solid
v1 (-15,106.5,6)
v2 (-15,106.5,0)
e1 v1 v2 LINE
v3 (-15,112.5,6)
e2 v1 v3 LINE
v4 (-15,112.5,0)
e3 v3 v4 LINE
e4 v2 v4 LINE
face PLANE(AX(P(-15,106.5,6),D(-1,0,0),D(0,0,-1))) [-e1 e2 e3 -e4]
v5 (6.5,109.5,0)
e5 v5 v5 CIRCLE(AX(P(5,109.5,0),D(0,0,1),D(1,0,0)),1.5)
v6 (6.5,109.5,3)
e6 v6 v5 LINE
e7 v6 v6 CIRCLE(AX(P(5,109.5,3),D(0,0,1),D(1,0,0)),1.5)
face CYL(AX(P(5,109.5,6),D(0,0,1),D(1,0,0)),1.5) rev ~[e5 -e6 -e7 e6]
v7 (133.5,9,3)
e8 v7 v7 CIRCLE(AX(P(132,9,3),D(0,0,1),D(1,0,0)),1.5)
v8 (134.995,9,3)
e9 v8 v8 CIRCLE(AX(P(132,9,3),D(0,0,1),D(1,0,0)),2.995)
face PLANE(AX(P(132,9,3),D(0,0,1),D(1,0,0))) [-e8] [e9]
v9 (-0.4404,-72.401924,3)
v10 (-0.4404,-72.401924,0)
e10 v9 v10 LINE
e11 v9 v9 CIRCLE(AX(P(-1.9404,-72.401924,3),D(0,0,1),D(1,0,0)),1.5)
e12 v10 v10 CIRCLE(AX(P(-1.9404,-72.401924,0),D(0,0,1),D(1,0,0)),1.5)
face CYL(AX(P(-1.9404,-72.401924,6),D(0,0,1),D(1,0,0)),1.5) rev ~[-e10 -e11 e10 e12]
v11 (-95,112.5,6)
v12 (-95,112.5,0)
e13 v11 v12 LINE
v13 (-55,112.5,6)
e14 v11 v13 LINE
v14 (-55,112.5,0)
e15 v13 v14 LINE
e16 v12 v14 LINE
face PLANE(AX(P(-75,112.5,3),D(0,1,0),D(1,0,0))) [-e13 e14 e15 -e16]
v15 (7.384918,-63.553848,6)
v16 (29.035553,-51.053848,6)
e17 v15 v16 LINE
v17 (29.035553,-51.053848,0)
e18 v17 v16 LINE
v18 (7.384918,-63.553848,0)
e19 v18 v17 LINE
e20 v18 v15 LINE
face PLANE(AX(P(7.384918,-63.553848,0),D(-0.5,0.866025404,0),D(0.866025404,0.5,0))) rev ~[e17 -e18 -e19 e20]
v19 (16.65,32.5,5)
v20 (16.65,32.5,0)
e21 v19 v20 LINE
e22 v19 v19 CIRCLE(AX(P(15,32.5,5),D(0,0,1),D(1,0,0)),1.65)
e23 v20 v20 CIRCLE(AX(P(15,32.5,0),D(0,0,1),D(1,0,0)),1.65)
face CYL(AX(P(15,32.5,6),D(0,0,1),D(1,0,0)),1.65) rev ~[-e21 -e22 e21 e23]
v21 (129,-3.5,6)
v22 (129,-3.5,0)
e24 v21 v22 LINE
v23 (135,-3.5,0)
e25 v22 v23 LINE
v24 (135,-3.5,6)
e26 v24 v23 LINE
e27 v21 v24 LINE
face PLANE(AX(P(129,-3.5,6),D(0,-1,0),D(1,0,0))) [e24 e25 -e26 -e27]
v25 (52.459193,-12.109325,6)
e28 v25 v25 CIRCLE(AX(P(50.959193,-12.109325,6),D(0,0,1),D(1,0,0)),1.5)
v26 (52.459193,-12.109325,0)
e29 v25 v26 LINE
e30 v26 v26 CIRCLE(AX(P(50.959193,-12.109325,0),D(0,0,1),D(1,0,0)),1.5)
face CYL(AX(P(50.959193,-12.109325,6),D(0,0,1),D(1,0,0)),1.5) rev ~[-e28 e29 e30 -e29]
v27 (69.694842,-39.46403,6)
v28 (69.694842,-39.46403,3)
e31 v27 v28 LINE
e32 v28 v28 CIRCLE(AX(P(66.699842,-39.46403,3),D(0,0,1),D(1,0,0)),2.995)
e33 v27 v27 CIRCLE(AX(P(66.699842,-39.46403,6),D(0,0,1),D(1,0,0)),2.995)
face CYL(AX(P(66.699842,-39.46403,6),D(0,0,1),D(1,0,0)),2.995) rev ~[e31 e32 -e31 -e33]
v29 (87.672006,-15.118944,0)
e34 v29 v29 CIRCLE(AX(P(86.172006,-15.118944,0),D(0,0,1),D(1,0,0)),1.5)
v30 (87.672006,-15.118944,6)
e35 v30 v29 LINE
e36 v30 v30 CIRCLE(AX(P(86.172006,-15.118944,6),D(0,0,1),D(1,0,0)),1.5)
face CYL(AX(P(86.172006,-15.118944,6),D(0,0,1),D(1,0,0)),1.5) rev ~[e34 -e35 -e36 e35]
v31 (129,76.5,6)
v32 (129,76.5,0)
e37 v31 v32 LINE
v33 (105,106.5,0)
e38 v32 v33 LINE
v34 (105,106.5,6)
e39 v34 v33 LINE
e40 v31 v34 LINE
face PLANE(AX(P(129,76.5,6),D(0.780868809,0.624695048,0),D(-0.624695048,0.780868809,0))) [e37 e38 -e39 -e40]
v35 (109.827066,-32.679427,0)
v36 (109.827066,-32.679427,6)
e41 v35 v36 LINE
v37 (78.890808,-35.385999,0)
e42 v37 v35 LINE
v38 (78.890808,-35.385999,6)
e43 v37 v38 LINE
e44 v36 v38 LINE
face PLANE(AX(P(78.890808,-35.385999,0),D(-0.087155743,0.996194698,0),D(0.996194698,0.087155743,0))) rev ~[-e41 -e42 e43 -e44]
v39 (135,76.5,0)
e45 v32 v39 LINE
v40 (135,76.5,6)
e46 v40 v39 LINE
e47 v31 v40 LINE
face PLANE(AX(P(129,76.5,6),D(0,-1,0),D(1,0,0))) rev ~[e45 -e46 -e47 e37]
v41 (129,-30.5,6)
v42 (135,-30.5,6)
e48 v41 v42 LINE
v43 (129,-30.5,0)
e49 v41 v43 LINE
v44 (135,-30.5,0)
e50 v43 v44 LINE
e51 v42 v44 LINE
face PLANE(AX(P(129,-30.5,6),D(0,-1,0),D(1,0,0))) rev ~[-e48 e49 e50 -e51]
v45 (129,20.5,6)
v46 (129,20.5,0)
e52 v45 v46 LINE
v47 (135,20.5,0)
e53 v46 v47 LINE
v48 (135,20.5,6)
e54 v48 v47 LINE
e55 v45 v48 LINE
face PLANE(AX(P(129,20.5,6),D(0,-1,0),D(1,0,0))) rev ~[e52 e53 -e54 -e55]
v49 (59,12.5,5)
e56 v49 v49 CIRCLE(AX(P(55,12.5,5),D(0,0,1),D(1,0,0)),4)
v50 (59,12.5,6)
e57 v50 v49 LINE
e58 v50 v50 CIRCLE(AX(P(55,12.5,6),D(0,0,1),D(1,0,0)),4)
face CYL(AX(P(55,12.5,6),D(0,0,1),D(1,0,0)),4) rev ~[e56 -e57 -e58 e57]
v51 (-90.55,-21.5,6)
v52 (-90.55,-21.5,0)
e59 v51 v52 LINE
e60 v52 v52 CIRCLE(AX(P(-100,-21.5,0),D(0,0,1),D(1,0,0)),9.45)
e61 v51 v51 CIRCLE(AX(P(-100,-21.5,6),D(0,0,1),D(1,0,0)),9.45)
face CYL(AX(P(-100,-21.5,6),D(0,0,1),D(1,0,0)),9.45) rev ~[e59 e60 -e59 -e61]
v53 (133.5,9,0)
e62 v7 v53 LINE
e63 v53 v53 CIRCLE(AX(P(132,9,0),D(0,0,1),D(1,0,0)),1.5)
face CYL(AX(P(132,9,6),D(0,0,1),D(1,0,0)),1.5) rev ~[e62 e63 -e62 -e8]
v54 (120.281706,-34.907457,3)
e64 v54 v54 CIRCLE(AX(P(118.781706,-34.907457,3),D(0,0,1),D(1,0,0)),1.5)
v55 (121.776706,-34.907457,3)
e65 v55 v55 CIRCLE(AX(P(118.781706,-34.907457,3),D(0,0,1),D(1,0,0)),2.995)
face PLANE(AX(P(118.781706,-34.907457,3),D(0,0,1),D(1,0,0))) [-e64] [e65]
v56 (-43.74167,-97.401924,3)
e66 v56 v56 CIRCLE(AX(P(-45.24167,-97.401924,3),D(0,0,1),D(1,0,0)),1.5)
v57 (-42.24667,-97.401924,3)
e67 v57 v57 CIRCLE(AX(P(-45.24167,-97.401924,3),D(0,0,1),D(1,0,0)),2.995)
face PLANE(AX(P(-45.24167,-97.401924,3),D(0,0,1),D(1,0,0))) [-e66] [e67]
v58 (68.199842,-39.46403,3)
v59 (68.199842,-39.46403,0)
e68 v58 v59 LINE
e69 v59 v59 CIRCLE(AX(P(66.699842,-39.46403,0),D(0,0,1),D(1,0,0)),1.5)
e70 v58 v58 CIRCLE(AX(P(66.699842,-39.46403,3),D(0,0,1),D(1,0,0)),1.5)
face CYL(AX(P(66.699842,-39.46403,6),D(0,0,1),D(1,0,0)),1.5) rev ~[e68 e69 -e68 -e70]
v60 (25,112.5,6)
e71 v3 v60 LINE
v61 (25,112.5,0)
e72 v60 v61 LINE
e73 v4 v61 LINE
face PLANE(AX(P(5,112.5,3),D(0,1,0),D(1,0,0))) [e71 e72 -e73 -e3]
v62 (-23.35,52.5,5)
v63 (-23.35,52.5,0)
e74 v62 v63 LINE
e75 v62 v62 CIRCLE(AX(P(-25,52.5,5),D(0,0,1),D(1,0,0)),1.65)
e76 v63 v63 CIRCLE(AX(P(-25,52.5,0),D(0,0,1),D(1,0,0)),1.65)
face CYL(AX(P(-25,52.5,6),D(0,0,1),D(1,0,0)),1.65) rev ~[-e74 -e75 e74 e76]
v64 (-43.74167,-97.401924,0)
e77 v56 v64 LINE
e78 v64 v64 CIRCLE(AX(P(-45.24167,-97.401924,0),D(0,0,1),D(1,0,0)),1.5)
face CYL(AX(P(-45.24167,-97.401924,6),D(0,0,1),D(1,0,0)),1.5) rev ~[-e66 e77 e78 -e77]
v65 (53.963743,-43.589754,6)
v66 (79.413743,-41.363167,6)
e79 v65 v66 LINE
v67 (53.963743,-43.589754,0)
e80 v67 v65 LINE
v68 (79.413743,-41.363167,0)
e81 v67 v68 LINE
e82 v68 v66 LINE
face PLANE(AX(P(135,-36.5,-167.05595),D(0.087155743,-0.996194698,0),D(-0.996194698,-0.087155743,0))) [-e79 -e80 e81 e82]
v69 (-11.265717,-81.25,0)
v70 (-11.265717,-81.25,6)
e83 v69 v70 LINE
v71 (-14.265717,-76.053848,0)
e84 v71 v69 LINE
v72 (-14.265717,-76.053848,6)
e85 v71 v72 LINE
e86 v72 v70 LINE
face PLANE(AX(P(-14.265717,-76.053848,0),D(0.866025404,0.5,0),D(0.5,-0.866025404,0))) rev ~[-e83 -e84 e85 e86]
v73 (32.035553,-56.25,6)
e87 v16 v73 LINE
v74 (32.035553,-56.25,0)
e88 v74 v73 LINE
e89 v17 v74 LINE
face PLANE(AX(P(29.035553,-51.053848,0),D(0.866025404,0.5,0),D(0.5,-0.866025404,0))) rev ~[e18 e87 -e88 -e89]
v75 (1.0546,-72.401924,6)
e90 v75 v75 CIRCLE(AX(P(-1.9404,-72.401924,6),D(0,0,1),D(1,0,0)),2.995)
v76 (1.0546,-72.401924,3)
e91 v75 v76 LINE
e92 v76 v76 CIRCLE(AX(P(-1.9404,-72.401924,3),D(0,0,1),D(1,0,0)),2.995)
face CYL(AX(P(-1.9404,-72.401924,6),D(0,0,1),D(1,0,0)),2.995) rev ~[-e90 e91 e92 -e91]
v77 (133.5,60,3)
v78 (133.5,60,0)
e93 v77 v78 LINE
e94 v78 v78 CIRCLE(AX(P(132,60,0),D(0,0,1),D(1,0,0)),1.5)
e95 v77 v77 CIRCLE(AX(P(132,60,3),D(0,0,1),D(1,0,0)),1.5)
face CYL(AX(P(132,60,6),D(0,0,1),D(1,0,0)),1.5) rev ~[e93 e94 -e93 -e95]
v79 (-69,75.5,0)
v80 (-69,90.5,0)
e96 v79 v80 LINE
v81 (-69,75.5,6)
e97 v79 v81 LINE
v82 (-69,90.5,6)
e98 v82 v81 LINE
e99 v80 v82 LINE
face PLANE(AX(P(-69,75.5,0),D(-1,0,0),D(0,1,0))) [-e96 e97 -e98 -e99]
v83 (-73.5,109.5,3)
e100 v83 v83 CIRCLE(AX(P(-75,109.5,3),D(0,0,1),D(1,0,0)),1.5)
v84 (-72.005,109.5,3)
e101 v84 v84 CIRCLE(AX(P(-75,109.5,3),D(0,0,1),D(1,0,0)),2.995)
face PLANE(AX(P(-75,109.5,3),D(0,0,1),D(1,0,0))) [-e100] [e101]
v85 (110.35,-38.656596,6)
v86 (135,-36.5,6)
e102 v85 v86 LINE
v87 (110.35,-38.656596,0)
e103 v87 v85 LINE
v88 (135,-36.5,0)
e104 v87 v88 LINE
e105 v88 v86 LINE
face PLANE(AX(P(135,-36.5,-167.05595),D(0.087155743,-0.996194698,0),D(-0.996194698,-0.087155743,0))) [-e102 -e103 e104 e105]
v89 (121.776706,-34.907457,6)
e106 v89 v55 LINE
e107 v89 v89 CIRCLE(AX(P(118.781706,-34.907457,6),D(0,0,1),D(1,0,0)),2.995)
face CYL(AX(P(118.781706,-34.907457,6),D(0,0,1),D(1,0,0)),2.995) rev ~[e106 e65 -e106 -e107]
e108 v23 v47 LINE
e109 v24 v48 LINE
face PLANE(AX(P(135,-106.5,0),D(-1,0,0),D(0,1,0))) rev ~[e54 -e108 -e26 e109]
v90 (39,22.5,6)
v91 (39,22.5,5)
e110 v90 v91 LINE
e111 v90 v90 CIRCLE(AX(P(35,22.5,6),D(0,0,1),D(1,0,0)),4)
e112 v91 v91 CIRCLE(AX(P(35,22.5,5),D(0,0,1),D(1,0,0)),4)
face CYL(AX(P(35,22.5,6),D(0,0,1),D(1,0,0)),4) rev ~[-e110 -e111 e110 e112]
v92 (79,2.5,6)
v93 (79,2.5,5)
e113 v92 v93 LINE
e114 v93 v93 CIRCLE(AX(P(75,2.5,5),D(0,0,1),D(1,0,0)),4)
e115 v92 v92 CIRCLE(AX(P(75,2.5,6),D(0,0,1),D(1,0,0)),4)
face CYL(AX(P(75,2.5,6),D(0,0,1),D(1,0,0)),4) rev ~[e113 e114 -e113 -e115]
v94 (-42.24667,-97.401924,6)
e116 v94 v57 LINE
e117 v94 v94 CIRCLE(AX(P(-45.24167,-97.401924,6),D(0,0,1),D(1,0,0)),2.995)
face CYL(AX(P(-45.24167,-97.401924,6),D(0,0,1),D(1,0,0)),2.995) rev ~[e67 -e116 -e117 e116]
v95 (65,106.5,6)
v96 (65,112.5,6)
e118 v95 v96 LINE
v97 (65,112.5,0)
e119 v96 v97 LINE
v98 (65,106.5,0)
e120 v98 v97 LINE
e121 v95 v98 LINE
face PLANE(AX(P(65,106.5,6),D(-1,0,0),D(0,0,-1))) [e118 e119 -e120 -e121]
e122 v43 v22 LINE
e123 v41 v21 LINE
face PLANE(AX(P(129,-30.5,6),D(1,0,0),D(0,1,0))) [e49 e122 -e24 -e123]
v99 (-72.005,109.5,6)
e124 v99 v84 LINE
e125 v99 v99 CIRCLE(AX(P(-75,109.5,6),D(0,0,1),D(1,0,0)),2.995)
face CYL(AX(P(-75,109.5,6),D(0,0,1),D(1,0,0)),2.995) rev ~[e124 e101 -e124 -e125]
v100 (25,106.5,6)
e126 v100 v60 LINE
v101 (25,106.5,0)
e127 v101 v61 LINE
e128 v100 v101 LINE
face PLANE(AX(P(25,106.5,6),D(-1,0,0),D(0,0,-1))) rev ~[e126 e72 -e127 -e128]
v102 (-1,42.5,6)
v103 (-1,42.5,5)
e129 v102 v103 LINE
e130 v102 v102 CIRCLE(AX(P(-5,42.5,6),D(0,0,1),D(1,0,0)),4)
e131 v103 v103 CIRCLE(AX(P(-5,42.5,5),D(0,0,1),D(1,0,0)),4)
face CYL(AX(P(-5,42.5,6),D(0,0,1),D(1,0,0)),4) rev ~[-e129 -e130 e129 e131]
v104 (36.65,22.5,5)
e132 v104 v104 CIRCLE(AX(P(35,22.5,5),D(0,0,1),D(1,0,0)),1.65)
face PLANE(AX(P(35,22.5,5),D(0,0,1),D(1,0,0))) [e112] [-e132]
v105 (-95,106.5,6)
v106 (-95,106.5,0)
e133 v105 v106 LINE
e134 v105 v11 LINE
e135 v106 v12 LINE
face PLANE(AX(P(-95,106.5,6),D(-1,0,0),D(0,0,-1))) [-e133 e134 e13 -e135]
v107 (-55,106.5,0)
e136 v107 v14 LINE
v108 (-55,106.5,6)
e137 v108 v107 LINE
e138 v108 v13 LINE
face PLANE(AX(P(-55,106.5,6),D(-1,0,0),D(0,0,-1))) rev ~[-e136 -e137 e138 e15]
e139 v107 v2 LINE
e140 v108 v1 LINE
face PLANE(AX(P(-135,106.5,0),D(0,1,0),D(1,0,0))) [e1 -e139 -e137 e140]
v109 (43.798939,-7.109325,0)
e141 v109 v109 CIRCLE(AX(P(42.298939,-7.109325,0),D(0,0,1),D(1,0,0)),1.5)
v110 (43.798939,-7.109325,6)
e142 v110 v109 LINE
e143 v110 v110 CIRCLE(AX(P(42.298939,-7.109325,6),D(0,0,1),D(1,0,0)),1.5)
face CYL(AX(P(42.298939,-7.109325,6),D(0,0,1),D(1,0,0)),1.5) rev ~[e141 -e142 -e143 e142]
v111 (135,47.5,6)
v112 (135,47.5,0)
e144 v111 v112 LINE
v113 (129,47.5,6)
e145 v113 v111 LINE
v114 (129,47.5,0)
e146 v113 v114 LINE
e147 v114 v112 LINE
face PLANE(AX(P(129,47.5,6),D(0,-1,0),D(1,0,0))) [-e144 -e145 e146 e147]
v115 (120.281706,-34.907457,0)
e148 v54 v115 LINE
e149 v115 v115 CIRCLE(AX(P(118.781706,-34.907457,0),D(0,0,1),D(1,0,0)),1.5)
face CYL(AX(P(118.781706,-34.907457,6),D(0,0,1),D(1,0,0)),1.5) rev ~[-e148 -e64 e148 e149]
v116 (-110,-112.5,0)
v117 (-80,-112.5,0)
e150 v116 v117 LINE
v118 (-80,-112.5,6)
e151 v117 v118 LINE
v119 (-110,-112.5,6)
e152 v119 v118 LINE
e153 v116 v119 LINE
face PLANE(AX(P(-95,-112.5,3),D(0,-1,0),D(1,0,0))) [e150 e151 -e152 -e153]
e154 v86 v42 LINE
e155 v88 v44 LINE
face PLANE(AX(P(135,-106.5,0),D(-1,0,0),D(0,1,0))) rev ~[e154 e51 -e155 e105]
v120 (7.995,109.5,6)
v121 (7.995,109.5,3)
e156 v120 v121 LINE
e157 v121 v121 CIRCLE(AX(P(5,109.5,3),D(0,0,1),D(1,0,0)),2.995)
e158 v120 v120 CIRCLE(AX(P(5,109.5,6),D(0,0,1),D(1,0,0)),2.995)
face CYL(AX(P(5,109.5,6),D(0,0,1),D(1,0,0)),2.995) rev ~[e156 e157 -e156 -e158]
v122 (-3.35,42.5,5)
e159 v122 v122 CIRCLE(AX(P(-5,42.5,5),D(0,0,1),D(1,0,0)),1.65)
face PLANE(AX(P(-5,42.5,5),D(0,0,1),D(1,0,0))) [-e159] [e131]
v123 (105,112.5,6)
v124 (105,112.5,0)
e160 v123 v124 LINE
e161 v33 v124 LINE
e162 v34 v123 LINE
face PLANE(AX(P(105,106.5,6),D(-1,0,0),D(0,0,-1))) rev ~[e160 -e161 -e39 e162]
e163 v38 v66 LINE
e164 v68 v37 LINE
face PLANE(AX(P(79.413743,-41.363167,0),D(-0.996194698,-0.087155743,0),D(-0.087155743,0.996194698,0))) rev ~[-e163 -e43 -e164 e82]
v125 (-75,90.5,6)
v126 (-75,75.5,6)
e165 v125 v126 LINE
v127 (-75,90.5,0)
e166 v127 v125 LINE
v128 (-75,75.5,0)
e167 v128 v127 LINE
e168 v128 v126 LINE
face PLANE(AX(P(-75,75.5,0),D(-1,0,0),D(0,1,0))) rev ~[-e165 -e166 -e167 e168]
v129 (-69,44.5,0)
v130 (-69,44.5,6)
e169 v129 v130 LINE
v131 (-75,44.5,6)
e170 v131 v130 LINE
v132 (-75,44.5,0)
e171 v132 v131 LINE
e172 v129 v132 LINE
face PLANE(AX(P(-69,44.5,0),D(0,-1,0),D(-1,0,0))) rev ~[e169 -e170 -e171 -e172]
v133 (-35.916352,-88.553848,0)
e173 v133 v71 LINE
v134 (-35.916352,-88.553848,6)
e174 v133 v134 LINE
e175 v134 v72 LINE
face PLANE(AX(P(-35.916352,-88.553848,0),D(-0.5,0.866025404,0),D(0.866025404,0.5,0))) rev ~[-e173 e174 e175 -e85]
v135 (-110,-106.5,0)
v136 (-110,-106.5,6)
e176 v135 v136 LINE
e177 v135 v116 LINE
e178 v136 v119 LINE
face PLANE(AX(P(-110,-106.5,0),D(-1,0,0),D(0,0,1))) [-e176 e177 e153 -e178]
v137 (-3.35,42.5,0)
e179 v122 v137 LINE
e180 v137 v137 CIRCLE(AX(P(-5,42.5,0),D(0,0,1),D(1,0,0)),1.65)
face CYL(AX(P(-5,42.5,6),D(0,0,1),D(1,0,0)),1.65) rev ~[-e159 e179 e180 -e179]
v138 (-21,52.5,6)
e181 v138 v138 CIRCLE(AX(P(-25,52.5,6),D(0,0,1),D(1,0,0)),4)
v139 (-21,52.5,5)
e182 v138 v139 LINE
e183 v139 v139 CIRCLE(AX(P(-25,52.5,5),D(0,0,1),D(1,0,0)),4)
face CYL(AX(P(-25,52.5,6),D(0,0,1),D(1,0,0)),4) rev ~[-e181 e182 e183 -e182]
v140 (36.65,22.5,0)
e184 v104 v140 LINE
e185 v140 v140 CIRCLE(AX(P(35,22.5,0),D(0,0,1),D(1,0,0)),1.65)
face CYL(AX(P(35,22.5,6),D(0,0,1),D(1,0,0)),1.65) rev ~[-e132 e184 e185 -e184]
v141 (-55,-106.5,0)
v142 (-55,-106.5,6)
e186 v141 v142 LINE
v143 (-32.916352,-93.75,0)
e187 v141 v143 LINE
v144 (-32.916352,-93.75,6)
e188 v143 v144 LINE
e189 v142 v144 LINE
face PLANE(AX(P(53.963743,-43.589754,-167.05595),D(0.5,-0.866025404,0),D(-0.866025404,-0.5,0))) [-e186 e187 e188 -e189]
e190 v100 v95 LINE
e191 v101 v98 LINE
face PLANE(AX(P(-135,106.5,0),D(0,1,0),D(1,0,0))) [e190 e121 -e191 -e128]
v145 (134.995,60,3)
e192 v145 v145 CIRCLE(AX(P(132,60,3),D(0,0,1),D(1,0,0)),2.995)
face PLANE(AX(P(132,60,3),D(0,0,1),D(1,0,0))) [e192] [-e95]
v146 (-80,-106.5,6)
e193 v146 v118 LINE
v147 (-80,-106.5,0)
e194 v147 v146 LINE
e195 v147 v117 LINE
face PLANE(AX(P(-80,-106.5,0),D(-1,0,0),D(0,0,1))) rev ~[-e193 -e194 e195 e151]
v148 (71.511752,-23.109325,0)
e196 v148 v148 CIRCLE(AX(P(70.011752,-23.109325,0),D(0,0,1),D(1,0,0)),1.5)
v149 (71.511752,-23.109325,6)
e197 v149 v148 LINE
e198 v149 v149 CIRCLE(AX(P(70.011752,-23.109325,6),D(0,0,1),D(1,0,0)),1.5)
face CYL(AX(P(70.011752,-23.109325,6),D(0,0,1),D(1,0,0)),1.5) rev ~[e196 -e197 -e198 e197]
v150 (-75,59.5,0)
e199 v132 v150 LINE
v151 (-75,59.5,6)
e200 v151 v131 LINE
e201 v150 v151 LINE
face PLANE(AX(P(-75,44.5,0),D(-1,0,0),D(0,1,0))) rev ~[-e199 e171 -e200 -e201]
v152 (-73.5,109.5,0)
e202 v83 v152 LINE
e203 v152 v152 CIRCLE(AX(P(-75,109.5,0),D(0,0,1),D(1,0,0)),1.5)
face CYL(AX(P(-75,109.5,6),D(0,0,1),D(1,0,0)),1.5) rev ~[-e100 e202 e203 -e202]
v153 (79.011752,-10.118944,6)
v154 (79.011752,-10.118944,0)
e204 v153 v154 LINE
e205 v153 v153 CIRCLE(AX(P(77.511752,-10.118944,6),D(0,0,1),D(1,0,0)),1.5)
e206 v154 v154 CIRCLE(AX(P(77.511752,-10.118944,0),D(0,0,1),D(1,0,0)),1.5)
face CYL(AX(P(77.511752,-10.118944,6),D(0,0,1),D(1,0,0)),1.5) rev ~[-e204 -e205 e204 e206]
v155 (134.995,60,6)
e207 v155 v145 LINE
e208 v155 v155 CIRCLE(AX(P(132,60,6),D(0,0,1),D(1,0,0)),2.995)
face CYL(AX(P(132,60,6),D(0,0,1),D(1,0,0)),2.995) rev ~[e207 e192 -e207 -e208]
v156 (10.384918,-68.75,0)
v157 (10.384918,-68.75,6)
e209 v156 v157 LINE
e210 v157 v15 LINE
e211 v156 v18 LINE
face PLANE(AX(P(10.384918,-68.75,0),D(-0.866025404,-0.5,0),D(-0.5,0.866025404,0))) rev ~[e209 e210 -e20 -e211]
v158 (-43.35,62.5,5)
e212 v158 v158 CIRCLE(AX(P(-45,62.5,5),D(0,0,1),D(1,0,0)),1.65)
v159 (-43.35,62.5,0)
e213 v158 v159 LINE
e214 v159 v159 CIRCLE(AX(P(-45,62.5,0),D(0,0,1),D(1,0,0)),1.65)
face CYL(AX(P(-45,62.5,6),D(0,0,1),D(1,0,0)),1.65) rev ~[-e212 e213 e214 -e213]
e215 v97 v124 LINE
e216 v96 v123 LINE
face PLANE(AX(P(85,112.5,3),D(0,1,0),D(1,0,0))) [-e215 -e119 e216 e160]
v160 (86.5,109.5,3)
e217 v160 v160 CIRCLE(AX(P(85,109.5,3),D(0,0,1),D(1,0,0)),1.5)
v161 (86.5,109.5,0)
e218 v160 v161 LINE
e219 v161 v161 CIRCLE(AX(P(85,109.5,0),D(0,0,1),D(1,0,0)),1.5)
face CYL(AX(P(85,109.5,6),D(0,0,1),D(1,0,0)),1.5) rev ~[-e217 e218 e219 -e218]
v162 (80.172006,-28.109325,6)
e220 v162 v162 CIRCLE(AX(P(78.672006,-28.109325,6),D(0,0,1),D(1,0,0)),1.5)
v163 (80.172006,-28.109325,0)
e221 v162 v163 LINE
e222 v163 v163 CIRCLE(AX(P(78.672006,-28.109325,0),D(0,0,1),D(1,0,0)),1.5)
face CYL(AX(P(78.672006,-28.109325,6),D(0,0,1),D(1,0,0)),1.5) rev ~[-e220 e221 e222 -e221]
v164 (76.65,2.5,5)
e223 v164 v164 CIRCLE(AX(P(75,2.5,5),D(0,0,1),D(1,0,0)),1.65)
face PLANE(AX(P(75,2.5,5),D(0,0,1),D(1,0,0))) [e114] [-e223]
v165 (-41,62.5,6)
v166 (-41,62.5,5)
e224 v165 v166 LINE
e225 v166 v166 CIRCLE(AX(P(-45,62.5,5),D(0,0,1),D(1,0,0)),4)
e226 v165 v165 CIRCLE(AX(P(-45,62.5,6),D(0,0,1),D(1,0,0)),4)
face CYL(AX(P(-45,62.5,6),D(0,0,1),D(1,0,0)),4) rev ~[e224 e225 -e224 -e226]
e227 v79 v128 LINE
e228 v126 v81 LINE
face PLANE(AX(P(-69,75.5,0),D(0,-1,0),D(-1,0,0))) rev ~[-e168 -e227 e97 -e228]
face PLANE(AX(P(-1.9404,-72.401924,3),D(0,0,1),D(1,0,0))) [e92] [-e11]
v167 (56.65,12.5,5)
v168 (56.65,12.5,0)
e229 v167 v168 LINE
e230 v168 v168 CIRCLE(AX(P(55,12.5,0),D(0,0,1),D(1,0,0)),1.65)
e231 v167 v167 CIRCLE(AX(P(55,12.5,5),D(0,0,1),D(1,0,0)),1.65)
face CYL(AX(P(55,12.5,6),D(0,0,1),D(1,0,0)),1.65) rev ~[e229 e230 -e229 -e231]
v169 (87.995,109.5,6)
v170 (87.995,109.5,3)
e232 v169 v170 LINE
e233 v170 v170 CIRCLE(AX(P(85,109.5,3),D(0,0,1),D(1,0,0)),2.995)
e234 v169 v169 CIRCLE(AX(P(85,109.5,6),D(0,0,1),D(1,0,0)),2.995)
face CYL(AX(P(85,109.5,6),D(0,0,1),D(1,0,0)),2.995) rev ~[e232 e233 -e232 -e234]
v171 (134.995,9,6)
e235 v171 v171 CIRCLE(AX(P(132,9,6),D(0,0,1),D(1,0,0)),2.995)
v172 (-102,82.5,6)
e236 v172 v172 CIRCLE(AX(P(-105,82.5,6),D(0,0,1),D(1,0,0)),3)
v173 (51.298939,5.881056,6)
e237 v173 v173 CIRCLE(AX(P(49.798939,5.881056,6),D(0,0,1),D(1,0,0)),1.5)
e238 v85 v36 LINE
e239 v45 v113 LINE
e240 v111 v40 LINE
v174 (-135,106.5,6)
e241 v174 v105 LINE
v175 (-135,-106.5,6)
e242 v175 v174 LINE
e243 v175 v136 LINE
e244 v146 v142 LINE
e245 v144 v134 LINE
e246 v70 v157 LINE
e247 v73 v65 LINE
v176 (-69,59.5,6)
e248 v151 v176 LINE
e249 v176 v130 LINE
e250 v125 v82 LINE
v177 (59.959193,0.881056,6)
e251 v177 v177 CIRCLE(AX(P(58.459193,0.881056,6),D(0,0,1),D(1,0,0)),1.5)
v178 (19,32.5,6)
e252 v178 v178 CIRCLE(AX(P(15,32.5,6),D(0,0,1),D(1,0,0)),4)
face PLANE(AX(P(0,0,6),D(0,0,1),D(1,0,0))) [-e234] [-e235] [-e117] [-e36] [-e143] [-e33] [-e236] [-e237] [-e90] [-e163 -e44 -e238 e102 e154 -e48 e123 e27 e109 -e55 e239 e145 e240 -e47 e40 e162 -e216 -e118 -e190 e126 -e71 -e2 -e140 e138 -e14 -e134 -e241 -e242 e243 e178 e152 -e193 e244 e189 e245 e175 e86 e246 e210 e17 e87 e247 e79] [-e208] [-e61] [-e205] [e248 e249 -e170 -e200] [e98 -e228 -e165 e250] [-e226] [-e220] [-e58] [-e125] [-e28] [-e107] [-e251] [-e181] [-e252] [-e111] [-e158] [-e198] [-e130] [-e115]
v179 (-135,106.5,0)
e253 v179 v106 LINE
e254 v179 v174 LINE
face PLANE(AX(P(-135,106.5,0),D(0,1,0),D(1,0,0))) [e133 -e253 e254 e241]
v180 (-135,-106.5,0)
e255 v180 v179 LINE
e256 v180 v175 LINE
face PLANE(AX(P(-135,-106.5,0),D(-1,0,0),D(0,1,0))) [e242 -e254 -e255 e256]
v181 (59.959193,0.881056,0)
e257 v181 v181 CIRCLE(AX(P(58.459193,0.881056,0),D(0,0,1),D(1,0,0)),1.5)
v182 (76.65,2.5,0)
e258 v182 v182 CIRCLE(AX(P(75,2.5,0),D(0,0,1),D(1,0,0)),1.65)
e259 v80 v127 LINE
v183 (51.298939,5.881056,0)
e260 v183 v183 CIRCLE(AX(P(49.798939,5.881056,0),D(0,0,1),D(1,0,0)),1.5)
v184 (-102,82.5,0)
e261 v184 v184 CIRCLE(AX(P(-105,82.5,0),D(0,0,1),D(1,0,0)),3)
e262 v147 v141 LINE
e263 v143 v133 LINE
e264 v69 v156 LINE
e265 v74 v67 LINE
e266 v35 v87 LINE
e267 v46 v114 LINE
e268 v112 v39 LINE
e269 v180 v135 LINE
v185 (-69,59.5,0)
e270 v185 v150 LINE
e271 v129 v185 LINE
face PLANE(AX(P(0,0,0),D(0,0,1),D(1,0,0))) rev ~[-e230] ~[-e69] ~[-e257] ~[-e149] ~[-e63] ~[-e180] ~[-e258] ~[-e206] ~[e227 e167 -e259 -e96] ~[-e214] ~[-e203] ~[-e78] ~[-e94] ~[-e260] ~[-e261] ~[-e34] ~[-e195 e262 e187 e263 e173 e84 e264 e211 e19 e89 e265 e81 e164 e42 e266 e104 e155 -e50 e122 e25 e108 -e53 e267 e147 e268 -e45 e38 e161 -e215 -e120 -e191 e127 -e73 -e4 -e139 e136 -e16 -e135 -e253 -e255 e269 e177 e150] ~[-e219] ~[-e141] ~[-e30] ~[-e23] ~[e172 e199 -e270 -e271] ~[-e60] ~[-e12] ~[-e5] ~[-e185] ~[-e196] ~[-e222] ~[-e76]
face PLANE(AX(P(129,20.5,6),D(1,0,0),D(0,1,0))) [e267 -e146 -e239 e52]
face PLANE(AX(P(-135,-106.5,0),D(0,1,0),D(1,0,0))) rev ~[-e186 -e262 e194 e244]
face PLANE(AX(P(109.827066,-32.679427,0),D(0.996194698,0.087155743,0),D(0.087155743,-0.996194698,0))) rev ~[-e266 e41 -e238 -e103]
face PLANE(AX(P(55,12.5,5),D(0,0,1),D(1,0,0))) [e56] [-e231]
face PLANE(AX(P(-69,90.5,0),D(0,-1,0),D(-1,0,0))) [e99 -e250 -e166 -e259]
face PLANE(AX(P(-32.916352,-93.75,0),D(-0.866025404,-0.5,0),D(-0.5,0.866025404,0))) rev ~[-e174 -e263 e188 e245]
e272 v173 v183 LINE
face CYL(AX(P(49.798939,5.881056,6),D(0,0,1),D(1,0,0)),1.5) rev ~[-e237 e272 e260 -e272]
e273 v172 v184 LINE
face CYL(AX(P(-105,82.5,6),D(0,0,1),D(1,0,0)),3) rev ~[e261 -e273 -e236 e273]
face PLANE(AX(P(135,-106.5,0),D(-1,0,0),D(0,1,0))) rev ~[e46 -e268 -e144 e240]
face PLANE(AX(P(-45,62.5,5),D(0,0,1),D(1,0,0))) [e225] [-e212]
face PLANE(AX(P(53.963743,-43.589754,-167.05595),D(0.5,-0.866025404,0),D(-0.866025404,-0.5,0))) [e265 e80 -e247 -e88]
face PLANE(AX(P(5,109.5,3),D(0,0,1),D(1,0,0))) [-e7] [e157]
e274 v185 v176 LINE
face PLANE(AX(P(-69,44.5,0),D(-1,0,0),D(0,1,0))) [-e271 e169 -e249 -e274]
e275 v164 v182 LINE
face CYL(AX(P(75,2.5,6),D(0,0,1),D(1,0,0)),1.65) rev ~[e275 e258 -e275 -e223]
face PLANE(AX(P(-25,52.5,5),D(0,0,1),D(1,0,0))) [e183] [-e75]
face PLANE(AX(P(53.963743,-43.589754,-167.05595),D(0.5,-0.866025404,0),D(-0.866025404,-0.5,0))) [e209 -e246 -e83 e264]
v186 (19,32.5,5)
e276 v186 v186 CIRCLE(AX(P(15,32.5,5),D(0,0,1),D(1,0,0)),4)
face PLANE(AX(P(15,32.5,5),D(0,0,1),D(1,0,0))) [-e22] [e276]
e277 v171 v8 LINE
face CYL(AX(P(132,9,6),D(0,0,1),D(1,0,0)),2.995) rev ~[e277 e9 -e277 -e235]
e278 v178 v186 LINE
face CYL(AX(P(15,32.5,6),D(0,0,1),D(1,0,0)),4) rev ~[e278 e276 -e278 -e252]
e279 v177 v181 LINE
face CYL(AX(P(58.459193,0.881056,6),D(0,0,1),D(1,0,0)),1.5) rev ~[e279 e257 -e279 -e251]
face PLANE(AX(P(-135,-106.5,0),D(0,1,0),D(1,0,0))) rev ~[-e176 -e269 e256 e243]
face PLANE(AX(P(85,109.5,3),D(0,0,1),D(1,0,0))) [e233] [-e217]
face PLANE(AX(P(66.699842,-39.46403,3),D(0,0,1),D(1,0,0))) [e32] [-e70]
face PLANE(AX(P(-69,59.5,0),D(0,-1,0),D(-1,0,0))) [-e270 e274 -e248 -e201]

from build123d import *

# Parameters (mm, degrees)
ESQUISSE1_W                   = 270
ESQUISSE1_H                   = 213
BOSS_EXTRU_1_DEPTH            = 6
ESQUISSE3_R                   = 9.45
ESQUISSE3_R_2                 = 1.5
ENL_V_MAT_EXTRU_1_DEPTH       = 10
ESQUISSE4_R                   = 3
ENL_V_MAT_EXTRU_2_DEPTH       = 10
ENL_V_MAT_EXTRU_11_DEPTH      = 173.055950202
ENL_V_MAT_EXTRU_11_DEPTH_BACK = 173.055950202
ESQUISSE7_W                   = 6
ESQUISSE7_H                   = 30
ESQUISSE7_H_2                 = 27
ENL_V_MAT_EXTRU_13_DEPTH      = 10
ESQUISSE8_W                   = 40
ESQUISSE8_H                   = 6
BOSS_EXTRU_2_DEPTH            = 6
ENL_V_MAT_EXTRU_14_DEPTH      = 10
ENL_V_MAT_EXTRU_15_DEPTH      = 6
ESQUISSE11_W                  = 6
ESQUISSE11_H                  = 15
ENL_V_MAT_EXTRU_16_DEPTH      = 10
ESQUISSE12_R                  = 1.65
ENL_V_MAT_EXTRU_17_DEPTH      = 176.833017377
ESQUISSE14_W                  = 30
ESQUISSE14_H                  = 6
BOSS_EXTRU_3_DEPTH            = 6
ENL_V_MAT_EXTRU_18_DEPTH      = 176.833017377
ESQUISSE16_R                  = 4
ENL_V_MAT_EXTRU_19_DEPTH      = 1
ESQUISSE17_R                  = 2.995
ENL_V_MAT_EXTRU_20_DEPTH      = 3
ESQUISSE18_R                  = 1.5
ENL_V_MAT_EXTRU_21_DEPTH      = 13


with BuildPart() as part:
    # Esquisse1 → Boss.-Extru.1 (new body)
    with BuildSketch(Plane.XY):
        Rectangle(ESQUISSE1_W, ESQUISSE1_H)
    extrude(amount=BOSS_EXTRU_1_DEPTH)

    # Esquisse3 → Enlèv. mat.-Extru.1 (cut)
    with BuildSketch(Plane.XY.offset(6)):
        with Locations((-100, -21.5)):
            Circle(ESQUISSE3_R)
        with Locations((58.459193141, 0.881055644)):
            Circle(ESQUISSE3_R_2)
        with Locations((49.798939104, 5.881055644)):
            Circle(ESQUISSE3_R_2)
        with Locations((42.298939104, -7.109325413)):
            Circle(ESQUISSE3_R_2)
        with Locations((50.959193141, -12.109325413)):
            Circle(ESQUISSE3_R_2)
        with Locations((70.011752025, -23.109325413)):
            Circle(ESQUISSE3_R_2)
        with Locations((78.672006063, -28.109325413)):
            Circle(ESQUISSE3_R_2)
        with Locations((86.172006063, -15.118944356)):
            Circle(ESQUISSE3_R_2)
        with Locations((77.511752025, -10.118944356)):
            Circle(ESQUISSE3_R_2)
    extrude(amount=-ENL_V_MAT_EXTRU_1_DEPTH, mode=Mode.SUBTRACT)

    # Esquisse4 → Enlèv. mat.-Extru.2 (cut)
    with BuildSketch(Plane.XY.offset(6)):
        with Locations((-105, 82.5)):
            Circle(ESQUISSE4_R)
    extrude(amount=-ENL_V_MAT_EXTRU_2_DEPTH, mode=Mode.SUBTRACT)

    # Esquisse5 → Enlèv. mat.-Extru.11 (cut, two sides: drawn at the far end of the back side and taken through both)
    with BuildSketch(Plane.XY.offset(6).offset(-ENL_V_MAT_EXTRU_11_DEPTH_BACK)):
        Polygon((135, -36.5), (53.963742643, -43.589753853), (-55, -106.5), (135, -106.5), align=None)
    extrude(amount=ENL_V_MAT_EXTRU_11_DEPTH + ENL_V_MAT_EXTRU_11_DEPTH_BACK, mode=Mode.SUBTRACT)

    # Esquisse7 → Enlèv. mat.-Extru.13 (cut)
    with BuildSketch(Plane.XY.offset(6)):
        with Locations((132, 91.5)):
            Rectangle(ESQUISSE7_W, ESQUISSE7_H)
        with Locations((132, -17)):
            Rectangle(ESQUISSE7_W, ESQUISSE7_H_2)
        with Locations((132, 34)):
            Rectangle(ESQUISSE7_W, ESQUISSE7_H_2)
    extrude(amount=-ENL_V_MAT_EXTRU_13_DEPTH, mode=Mode.SUBTRACT)

    # Esquisse8 → Boss.-Extru.2 (add)
    with BuildSketch(Plane(origin=(0, 106.5, 0), x_dir=(1, 0, 0), z_dir=(0, 1, 0))):
        with Locations((85, -3)):
            Rectangle(ESQUISSE8_W, ESQUISSE8_H)
        with Locations((5, -3)):
            Rectangle(ESQUISSE8_W, ESQUISSE8_H)
        with Locations((-75, -3)):
            Rectangle(ESQUISSE8_W, ESQUISSE8_H)
    extrude(amount=BOSS_EXTRU_2_DEPTH)

    # Esquisse9 → Enlèv. mat.-Extru.14 (cut)
    with BuildSketch(Plane(origin=(0, 0, 0), x_dir=(-1, 0, 0), z_dir=(0, 0, -1))):
        Polygon((-110.35, -38.656595556), (-79.413742643, -41.363167367), (-78.890808186, -35.385999178), (-109.827065544, -32.679427367), align=None)
    extrude(amount=-ENL_V_MAT_EXTRU_14_DEPTH, mode=Mode.SUBTRACT)

    # Esquisse10 → Enlèv. mat.-Extru.15 (cut)
    with BuildSketch(Plane(origin=(0, 0, 0), x_dir=(-1, 0, 0), z_dir=(0, 0, -1))):
        Polygon((-32.03555308, -56.25), (-10.384917986, -68.75), (-7.384917986, -63.553847577), (-29.03555308, -51.053847577), align=None)
        Polygon((11.265717109, -81.25), (32.916352203, -93.75), (35.916352203, -88.553847577), (14.265717109, -76.053847577), align=None)
    extrude(amount=-ENL_V_MAT_EXTRU_15_DEPTH, mode=Mode.SUBTRACT)

    # Esquisse11 → Enlèv. mat.-Extru.16 (cut)
    with BuildSketch(Plane(origin=(0, 0, 0), x_dir=(-1, 0, 0), z_dir=(0, 0, -1))):
        with Locations((72, 52)):
            Rectangle(ESQUISSE11_W, ESQUISSE11_H)
        with Locations((72, 83)):
            Rectangle(ESQUISSE11_W, ESQUISSE11_H)
    extrude(amount=-ENL_V_MAT_EXTRU_16_DEPTH, mode=Mode.SUBTRACT)

    # Esquisse12 → Enlèv. mat.-Extru.17 (cut, through all)
    with BuildSketch(Plane.XY.offset(6)):
        with Locations((-25, 52.5)):
            Circle(ESQUISSE12_R)
        with Locations((35, 22.5)):
            Circle(ESQUISSE12_R)
        with Locations((-5, 42.5)):
            Circle(ESQUISSE12_R)
        with Locations((15, 32.5)):
            Circle(ESQUISSE12_R)
        with Locations((55, 12.5)):
            Circle(ESQUISSE12_R)
        with Locations((75, 2.5)):
            Circle(ESQUISSE12_R)
        with Locations((-45, 62.5)):
            Circle(ESQUISSE12_R)
    extrude(amount=-ENL_V_MAT_EXTRU_17_DEPTH, mode=Mode.SUBTRACT)

    # Esquisse14 → Boss.-Extru.3 (add)
    with BuildSketch(Plane.XZ.offset(106.5)):
        with Locations((-95, 3)):
            Rectangle(ESQUISSE14_W, ESQUISSE14_H)
    extrude(amount=BOSS_EXTRU_3_DEPTH)

    # Esquisse15 → Enlèv. mat.-Extru.18 (cut, through all)
    with BuildSketch(Plane.XY.offset(6)):
        Polygon((105, 106.5), (129, 106.5), (129, 76.5), align=None)
    extrude(amount=-ENL_V_MAT_EXTRU_18_DEPTH, mode=Mode.SUBTRACT)

    # Esquisse16 → Enlèv. mat.-Extru.19 (cut)
    with BuildSketch(Plane.XY.offset(6)):
        with Locations((-45, 62.5)):
            Circle(ESQUISSE16_R)
        with Locations((-25, 52.5)):
            Circle(ESQUISSE16_R)
        with Locations((-5, 42.5)):
            Circle(ESQUISSE16_R)
        with Locations((15, 32.5)):
            Circle(ESQUISSE16_R)
        with Locations((35, 22.5)):
            Circle(ESQUISSE16_R)
        with Locations((55, 12.5)):
            Circle(ESQUISSE16_R)
        with Locations((75, 2.5)):
            Circle(ESQUISSE16_R)
    extrude(amount=-ENL_V_MAT_EXTRU_19_DEPTH, mode=Mode.SUBTRACT)

    # Esquisse17 → Enlèv. mat.-Extru.20 (cut)
    with BuildSketch(Plane.XY.offset(6)):
        with Locations((-75, 109.5)):
            Circle(ESQUISSE17_R)
        with Locations((5, 109.5)):
            Circle(ESQUISSE17_R)
        with Locations((85, 109.5)):
            Circle(ESQUISSE17_R)
        with Locations((132, 60)):
            Circle(ESQUISSE17_R)
        with Locations((132, 9)):
            Circle(ESQUISSE17_R)
        with Locations((-1.940399562, -72.401923789)):
            Circle(ESQUISSE17_R)
        with Locations((118.78170639, -34.90745732)):
            Circle(ESQUISSE17_R)
        with Locations((66.699841688, -39.464030057)):
            Circle(ESQUISSE17_R)
        with Locations((-45.241669751, -97.401923789)):
            Circle(ESQUISSE17_R)
    extrude(amount=-ENL_V_MAT_EXTRU_20_DEPTH, mode=Mode.SUBTRACT)

    # Esquisse18 → Enlèv. mat.-Extru.21 (cut)
    with BuildSketch(Plane.XY.offset(6)):
        with Locations((-75, 109.5)):
            Circle(ESQUISSE18_R)
        with Locations((5, 109.5)):
            Circle(ESQUISSE18_R)
        with Locations((85, 109.5)):
            Circle(ESQUISSE18_R)
        with Locations((132, 60)):
            Circle(ESQUISSE18_R)
        with Locations((132, 9)):
            Circle(ESQUISSE18_R)
        with Locations((118.78170639, -34.90745732)):
            Circle(ESQUISSE18_R)
        with Locations((66.699841688, -39.464030057)):
            Circle(ESQUISSE18_R)
        with Locations((-1.940399562, -72.401923789)):
            Circle(ESQUISSE18_R)
        with Locations((-45.241669751, -97.401923789)):
            Circle(ESQUISSE18_R)
    extrude(amount=-ENL_V_MAT_EXTRU_21_DEPTH, mode=Mode.SUBTRACT)


solid = part.part
